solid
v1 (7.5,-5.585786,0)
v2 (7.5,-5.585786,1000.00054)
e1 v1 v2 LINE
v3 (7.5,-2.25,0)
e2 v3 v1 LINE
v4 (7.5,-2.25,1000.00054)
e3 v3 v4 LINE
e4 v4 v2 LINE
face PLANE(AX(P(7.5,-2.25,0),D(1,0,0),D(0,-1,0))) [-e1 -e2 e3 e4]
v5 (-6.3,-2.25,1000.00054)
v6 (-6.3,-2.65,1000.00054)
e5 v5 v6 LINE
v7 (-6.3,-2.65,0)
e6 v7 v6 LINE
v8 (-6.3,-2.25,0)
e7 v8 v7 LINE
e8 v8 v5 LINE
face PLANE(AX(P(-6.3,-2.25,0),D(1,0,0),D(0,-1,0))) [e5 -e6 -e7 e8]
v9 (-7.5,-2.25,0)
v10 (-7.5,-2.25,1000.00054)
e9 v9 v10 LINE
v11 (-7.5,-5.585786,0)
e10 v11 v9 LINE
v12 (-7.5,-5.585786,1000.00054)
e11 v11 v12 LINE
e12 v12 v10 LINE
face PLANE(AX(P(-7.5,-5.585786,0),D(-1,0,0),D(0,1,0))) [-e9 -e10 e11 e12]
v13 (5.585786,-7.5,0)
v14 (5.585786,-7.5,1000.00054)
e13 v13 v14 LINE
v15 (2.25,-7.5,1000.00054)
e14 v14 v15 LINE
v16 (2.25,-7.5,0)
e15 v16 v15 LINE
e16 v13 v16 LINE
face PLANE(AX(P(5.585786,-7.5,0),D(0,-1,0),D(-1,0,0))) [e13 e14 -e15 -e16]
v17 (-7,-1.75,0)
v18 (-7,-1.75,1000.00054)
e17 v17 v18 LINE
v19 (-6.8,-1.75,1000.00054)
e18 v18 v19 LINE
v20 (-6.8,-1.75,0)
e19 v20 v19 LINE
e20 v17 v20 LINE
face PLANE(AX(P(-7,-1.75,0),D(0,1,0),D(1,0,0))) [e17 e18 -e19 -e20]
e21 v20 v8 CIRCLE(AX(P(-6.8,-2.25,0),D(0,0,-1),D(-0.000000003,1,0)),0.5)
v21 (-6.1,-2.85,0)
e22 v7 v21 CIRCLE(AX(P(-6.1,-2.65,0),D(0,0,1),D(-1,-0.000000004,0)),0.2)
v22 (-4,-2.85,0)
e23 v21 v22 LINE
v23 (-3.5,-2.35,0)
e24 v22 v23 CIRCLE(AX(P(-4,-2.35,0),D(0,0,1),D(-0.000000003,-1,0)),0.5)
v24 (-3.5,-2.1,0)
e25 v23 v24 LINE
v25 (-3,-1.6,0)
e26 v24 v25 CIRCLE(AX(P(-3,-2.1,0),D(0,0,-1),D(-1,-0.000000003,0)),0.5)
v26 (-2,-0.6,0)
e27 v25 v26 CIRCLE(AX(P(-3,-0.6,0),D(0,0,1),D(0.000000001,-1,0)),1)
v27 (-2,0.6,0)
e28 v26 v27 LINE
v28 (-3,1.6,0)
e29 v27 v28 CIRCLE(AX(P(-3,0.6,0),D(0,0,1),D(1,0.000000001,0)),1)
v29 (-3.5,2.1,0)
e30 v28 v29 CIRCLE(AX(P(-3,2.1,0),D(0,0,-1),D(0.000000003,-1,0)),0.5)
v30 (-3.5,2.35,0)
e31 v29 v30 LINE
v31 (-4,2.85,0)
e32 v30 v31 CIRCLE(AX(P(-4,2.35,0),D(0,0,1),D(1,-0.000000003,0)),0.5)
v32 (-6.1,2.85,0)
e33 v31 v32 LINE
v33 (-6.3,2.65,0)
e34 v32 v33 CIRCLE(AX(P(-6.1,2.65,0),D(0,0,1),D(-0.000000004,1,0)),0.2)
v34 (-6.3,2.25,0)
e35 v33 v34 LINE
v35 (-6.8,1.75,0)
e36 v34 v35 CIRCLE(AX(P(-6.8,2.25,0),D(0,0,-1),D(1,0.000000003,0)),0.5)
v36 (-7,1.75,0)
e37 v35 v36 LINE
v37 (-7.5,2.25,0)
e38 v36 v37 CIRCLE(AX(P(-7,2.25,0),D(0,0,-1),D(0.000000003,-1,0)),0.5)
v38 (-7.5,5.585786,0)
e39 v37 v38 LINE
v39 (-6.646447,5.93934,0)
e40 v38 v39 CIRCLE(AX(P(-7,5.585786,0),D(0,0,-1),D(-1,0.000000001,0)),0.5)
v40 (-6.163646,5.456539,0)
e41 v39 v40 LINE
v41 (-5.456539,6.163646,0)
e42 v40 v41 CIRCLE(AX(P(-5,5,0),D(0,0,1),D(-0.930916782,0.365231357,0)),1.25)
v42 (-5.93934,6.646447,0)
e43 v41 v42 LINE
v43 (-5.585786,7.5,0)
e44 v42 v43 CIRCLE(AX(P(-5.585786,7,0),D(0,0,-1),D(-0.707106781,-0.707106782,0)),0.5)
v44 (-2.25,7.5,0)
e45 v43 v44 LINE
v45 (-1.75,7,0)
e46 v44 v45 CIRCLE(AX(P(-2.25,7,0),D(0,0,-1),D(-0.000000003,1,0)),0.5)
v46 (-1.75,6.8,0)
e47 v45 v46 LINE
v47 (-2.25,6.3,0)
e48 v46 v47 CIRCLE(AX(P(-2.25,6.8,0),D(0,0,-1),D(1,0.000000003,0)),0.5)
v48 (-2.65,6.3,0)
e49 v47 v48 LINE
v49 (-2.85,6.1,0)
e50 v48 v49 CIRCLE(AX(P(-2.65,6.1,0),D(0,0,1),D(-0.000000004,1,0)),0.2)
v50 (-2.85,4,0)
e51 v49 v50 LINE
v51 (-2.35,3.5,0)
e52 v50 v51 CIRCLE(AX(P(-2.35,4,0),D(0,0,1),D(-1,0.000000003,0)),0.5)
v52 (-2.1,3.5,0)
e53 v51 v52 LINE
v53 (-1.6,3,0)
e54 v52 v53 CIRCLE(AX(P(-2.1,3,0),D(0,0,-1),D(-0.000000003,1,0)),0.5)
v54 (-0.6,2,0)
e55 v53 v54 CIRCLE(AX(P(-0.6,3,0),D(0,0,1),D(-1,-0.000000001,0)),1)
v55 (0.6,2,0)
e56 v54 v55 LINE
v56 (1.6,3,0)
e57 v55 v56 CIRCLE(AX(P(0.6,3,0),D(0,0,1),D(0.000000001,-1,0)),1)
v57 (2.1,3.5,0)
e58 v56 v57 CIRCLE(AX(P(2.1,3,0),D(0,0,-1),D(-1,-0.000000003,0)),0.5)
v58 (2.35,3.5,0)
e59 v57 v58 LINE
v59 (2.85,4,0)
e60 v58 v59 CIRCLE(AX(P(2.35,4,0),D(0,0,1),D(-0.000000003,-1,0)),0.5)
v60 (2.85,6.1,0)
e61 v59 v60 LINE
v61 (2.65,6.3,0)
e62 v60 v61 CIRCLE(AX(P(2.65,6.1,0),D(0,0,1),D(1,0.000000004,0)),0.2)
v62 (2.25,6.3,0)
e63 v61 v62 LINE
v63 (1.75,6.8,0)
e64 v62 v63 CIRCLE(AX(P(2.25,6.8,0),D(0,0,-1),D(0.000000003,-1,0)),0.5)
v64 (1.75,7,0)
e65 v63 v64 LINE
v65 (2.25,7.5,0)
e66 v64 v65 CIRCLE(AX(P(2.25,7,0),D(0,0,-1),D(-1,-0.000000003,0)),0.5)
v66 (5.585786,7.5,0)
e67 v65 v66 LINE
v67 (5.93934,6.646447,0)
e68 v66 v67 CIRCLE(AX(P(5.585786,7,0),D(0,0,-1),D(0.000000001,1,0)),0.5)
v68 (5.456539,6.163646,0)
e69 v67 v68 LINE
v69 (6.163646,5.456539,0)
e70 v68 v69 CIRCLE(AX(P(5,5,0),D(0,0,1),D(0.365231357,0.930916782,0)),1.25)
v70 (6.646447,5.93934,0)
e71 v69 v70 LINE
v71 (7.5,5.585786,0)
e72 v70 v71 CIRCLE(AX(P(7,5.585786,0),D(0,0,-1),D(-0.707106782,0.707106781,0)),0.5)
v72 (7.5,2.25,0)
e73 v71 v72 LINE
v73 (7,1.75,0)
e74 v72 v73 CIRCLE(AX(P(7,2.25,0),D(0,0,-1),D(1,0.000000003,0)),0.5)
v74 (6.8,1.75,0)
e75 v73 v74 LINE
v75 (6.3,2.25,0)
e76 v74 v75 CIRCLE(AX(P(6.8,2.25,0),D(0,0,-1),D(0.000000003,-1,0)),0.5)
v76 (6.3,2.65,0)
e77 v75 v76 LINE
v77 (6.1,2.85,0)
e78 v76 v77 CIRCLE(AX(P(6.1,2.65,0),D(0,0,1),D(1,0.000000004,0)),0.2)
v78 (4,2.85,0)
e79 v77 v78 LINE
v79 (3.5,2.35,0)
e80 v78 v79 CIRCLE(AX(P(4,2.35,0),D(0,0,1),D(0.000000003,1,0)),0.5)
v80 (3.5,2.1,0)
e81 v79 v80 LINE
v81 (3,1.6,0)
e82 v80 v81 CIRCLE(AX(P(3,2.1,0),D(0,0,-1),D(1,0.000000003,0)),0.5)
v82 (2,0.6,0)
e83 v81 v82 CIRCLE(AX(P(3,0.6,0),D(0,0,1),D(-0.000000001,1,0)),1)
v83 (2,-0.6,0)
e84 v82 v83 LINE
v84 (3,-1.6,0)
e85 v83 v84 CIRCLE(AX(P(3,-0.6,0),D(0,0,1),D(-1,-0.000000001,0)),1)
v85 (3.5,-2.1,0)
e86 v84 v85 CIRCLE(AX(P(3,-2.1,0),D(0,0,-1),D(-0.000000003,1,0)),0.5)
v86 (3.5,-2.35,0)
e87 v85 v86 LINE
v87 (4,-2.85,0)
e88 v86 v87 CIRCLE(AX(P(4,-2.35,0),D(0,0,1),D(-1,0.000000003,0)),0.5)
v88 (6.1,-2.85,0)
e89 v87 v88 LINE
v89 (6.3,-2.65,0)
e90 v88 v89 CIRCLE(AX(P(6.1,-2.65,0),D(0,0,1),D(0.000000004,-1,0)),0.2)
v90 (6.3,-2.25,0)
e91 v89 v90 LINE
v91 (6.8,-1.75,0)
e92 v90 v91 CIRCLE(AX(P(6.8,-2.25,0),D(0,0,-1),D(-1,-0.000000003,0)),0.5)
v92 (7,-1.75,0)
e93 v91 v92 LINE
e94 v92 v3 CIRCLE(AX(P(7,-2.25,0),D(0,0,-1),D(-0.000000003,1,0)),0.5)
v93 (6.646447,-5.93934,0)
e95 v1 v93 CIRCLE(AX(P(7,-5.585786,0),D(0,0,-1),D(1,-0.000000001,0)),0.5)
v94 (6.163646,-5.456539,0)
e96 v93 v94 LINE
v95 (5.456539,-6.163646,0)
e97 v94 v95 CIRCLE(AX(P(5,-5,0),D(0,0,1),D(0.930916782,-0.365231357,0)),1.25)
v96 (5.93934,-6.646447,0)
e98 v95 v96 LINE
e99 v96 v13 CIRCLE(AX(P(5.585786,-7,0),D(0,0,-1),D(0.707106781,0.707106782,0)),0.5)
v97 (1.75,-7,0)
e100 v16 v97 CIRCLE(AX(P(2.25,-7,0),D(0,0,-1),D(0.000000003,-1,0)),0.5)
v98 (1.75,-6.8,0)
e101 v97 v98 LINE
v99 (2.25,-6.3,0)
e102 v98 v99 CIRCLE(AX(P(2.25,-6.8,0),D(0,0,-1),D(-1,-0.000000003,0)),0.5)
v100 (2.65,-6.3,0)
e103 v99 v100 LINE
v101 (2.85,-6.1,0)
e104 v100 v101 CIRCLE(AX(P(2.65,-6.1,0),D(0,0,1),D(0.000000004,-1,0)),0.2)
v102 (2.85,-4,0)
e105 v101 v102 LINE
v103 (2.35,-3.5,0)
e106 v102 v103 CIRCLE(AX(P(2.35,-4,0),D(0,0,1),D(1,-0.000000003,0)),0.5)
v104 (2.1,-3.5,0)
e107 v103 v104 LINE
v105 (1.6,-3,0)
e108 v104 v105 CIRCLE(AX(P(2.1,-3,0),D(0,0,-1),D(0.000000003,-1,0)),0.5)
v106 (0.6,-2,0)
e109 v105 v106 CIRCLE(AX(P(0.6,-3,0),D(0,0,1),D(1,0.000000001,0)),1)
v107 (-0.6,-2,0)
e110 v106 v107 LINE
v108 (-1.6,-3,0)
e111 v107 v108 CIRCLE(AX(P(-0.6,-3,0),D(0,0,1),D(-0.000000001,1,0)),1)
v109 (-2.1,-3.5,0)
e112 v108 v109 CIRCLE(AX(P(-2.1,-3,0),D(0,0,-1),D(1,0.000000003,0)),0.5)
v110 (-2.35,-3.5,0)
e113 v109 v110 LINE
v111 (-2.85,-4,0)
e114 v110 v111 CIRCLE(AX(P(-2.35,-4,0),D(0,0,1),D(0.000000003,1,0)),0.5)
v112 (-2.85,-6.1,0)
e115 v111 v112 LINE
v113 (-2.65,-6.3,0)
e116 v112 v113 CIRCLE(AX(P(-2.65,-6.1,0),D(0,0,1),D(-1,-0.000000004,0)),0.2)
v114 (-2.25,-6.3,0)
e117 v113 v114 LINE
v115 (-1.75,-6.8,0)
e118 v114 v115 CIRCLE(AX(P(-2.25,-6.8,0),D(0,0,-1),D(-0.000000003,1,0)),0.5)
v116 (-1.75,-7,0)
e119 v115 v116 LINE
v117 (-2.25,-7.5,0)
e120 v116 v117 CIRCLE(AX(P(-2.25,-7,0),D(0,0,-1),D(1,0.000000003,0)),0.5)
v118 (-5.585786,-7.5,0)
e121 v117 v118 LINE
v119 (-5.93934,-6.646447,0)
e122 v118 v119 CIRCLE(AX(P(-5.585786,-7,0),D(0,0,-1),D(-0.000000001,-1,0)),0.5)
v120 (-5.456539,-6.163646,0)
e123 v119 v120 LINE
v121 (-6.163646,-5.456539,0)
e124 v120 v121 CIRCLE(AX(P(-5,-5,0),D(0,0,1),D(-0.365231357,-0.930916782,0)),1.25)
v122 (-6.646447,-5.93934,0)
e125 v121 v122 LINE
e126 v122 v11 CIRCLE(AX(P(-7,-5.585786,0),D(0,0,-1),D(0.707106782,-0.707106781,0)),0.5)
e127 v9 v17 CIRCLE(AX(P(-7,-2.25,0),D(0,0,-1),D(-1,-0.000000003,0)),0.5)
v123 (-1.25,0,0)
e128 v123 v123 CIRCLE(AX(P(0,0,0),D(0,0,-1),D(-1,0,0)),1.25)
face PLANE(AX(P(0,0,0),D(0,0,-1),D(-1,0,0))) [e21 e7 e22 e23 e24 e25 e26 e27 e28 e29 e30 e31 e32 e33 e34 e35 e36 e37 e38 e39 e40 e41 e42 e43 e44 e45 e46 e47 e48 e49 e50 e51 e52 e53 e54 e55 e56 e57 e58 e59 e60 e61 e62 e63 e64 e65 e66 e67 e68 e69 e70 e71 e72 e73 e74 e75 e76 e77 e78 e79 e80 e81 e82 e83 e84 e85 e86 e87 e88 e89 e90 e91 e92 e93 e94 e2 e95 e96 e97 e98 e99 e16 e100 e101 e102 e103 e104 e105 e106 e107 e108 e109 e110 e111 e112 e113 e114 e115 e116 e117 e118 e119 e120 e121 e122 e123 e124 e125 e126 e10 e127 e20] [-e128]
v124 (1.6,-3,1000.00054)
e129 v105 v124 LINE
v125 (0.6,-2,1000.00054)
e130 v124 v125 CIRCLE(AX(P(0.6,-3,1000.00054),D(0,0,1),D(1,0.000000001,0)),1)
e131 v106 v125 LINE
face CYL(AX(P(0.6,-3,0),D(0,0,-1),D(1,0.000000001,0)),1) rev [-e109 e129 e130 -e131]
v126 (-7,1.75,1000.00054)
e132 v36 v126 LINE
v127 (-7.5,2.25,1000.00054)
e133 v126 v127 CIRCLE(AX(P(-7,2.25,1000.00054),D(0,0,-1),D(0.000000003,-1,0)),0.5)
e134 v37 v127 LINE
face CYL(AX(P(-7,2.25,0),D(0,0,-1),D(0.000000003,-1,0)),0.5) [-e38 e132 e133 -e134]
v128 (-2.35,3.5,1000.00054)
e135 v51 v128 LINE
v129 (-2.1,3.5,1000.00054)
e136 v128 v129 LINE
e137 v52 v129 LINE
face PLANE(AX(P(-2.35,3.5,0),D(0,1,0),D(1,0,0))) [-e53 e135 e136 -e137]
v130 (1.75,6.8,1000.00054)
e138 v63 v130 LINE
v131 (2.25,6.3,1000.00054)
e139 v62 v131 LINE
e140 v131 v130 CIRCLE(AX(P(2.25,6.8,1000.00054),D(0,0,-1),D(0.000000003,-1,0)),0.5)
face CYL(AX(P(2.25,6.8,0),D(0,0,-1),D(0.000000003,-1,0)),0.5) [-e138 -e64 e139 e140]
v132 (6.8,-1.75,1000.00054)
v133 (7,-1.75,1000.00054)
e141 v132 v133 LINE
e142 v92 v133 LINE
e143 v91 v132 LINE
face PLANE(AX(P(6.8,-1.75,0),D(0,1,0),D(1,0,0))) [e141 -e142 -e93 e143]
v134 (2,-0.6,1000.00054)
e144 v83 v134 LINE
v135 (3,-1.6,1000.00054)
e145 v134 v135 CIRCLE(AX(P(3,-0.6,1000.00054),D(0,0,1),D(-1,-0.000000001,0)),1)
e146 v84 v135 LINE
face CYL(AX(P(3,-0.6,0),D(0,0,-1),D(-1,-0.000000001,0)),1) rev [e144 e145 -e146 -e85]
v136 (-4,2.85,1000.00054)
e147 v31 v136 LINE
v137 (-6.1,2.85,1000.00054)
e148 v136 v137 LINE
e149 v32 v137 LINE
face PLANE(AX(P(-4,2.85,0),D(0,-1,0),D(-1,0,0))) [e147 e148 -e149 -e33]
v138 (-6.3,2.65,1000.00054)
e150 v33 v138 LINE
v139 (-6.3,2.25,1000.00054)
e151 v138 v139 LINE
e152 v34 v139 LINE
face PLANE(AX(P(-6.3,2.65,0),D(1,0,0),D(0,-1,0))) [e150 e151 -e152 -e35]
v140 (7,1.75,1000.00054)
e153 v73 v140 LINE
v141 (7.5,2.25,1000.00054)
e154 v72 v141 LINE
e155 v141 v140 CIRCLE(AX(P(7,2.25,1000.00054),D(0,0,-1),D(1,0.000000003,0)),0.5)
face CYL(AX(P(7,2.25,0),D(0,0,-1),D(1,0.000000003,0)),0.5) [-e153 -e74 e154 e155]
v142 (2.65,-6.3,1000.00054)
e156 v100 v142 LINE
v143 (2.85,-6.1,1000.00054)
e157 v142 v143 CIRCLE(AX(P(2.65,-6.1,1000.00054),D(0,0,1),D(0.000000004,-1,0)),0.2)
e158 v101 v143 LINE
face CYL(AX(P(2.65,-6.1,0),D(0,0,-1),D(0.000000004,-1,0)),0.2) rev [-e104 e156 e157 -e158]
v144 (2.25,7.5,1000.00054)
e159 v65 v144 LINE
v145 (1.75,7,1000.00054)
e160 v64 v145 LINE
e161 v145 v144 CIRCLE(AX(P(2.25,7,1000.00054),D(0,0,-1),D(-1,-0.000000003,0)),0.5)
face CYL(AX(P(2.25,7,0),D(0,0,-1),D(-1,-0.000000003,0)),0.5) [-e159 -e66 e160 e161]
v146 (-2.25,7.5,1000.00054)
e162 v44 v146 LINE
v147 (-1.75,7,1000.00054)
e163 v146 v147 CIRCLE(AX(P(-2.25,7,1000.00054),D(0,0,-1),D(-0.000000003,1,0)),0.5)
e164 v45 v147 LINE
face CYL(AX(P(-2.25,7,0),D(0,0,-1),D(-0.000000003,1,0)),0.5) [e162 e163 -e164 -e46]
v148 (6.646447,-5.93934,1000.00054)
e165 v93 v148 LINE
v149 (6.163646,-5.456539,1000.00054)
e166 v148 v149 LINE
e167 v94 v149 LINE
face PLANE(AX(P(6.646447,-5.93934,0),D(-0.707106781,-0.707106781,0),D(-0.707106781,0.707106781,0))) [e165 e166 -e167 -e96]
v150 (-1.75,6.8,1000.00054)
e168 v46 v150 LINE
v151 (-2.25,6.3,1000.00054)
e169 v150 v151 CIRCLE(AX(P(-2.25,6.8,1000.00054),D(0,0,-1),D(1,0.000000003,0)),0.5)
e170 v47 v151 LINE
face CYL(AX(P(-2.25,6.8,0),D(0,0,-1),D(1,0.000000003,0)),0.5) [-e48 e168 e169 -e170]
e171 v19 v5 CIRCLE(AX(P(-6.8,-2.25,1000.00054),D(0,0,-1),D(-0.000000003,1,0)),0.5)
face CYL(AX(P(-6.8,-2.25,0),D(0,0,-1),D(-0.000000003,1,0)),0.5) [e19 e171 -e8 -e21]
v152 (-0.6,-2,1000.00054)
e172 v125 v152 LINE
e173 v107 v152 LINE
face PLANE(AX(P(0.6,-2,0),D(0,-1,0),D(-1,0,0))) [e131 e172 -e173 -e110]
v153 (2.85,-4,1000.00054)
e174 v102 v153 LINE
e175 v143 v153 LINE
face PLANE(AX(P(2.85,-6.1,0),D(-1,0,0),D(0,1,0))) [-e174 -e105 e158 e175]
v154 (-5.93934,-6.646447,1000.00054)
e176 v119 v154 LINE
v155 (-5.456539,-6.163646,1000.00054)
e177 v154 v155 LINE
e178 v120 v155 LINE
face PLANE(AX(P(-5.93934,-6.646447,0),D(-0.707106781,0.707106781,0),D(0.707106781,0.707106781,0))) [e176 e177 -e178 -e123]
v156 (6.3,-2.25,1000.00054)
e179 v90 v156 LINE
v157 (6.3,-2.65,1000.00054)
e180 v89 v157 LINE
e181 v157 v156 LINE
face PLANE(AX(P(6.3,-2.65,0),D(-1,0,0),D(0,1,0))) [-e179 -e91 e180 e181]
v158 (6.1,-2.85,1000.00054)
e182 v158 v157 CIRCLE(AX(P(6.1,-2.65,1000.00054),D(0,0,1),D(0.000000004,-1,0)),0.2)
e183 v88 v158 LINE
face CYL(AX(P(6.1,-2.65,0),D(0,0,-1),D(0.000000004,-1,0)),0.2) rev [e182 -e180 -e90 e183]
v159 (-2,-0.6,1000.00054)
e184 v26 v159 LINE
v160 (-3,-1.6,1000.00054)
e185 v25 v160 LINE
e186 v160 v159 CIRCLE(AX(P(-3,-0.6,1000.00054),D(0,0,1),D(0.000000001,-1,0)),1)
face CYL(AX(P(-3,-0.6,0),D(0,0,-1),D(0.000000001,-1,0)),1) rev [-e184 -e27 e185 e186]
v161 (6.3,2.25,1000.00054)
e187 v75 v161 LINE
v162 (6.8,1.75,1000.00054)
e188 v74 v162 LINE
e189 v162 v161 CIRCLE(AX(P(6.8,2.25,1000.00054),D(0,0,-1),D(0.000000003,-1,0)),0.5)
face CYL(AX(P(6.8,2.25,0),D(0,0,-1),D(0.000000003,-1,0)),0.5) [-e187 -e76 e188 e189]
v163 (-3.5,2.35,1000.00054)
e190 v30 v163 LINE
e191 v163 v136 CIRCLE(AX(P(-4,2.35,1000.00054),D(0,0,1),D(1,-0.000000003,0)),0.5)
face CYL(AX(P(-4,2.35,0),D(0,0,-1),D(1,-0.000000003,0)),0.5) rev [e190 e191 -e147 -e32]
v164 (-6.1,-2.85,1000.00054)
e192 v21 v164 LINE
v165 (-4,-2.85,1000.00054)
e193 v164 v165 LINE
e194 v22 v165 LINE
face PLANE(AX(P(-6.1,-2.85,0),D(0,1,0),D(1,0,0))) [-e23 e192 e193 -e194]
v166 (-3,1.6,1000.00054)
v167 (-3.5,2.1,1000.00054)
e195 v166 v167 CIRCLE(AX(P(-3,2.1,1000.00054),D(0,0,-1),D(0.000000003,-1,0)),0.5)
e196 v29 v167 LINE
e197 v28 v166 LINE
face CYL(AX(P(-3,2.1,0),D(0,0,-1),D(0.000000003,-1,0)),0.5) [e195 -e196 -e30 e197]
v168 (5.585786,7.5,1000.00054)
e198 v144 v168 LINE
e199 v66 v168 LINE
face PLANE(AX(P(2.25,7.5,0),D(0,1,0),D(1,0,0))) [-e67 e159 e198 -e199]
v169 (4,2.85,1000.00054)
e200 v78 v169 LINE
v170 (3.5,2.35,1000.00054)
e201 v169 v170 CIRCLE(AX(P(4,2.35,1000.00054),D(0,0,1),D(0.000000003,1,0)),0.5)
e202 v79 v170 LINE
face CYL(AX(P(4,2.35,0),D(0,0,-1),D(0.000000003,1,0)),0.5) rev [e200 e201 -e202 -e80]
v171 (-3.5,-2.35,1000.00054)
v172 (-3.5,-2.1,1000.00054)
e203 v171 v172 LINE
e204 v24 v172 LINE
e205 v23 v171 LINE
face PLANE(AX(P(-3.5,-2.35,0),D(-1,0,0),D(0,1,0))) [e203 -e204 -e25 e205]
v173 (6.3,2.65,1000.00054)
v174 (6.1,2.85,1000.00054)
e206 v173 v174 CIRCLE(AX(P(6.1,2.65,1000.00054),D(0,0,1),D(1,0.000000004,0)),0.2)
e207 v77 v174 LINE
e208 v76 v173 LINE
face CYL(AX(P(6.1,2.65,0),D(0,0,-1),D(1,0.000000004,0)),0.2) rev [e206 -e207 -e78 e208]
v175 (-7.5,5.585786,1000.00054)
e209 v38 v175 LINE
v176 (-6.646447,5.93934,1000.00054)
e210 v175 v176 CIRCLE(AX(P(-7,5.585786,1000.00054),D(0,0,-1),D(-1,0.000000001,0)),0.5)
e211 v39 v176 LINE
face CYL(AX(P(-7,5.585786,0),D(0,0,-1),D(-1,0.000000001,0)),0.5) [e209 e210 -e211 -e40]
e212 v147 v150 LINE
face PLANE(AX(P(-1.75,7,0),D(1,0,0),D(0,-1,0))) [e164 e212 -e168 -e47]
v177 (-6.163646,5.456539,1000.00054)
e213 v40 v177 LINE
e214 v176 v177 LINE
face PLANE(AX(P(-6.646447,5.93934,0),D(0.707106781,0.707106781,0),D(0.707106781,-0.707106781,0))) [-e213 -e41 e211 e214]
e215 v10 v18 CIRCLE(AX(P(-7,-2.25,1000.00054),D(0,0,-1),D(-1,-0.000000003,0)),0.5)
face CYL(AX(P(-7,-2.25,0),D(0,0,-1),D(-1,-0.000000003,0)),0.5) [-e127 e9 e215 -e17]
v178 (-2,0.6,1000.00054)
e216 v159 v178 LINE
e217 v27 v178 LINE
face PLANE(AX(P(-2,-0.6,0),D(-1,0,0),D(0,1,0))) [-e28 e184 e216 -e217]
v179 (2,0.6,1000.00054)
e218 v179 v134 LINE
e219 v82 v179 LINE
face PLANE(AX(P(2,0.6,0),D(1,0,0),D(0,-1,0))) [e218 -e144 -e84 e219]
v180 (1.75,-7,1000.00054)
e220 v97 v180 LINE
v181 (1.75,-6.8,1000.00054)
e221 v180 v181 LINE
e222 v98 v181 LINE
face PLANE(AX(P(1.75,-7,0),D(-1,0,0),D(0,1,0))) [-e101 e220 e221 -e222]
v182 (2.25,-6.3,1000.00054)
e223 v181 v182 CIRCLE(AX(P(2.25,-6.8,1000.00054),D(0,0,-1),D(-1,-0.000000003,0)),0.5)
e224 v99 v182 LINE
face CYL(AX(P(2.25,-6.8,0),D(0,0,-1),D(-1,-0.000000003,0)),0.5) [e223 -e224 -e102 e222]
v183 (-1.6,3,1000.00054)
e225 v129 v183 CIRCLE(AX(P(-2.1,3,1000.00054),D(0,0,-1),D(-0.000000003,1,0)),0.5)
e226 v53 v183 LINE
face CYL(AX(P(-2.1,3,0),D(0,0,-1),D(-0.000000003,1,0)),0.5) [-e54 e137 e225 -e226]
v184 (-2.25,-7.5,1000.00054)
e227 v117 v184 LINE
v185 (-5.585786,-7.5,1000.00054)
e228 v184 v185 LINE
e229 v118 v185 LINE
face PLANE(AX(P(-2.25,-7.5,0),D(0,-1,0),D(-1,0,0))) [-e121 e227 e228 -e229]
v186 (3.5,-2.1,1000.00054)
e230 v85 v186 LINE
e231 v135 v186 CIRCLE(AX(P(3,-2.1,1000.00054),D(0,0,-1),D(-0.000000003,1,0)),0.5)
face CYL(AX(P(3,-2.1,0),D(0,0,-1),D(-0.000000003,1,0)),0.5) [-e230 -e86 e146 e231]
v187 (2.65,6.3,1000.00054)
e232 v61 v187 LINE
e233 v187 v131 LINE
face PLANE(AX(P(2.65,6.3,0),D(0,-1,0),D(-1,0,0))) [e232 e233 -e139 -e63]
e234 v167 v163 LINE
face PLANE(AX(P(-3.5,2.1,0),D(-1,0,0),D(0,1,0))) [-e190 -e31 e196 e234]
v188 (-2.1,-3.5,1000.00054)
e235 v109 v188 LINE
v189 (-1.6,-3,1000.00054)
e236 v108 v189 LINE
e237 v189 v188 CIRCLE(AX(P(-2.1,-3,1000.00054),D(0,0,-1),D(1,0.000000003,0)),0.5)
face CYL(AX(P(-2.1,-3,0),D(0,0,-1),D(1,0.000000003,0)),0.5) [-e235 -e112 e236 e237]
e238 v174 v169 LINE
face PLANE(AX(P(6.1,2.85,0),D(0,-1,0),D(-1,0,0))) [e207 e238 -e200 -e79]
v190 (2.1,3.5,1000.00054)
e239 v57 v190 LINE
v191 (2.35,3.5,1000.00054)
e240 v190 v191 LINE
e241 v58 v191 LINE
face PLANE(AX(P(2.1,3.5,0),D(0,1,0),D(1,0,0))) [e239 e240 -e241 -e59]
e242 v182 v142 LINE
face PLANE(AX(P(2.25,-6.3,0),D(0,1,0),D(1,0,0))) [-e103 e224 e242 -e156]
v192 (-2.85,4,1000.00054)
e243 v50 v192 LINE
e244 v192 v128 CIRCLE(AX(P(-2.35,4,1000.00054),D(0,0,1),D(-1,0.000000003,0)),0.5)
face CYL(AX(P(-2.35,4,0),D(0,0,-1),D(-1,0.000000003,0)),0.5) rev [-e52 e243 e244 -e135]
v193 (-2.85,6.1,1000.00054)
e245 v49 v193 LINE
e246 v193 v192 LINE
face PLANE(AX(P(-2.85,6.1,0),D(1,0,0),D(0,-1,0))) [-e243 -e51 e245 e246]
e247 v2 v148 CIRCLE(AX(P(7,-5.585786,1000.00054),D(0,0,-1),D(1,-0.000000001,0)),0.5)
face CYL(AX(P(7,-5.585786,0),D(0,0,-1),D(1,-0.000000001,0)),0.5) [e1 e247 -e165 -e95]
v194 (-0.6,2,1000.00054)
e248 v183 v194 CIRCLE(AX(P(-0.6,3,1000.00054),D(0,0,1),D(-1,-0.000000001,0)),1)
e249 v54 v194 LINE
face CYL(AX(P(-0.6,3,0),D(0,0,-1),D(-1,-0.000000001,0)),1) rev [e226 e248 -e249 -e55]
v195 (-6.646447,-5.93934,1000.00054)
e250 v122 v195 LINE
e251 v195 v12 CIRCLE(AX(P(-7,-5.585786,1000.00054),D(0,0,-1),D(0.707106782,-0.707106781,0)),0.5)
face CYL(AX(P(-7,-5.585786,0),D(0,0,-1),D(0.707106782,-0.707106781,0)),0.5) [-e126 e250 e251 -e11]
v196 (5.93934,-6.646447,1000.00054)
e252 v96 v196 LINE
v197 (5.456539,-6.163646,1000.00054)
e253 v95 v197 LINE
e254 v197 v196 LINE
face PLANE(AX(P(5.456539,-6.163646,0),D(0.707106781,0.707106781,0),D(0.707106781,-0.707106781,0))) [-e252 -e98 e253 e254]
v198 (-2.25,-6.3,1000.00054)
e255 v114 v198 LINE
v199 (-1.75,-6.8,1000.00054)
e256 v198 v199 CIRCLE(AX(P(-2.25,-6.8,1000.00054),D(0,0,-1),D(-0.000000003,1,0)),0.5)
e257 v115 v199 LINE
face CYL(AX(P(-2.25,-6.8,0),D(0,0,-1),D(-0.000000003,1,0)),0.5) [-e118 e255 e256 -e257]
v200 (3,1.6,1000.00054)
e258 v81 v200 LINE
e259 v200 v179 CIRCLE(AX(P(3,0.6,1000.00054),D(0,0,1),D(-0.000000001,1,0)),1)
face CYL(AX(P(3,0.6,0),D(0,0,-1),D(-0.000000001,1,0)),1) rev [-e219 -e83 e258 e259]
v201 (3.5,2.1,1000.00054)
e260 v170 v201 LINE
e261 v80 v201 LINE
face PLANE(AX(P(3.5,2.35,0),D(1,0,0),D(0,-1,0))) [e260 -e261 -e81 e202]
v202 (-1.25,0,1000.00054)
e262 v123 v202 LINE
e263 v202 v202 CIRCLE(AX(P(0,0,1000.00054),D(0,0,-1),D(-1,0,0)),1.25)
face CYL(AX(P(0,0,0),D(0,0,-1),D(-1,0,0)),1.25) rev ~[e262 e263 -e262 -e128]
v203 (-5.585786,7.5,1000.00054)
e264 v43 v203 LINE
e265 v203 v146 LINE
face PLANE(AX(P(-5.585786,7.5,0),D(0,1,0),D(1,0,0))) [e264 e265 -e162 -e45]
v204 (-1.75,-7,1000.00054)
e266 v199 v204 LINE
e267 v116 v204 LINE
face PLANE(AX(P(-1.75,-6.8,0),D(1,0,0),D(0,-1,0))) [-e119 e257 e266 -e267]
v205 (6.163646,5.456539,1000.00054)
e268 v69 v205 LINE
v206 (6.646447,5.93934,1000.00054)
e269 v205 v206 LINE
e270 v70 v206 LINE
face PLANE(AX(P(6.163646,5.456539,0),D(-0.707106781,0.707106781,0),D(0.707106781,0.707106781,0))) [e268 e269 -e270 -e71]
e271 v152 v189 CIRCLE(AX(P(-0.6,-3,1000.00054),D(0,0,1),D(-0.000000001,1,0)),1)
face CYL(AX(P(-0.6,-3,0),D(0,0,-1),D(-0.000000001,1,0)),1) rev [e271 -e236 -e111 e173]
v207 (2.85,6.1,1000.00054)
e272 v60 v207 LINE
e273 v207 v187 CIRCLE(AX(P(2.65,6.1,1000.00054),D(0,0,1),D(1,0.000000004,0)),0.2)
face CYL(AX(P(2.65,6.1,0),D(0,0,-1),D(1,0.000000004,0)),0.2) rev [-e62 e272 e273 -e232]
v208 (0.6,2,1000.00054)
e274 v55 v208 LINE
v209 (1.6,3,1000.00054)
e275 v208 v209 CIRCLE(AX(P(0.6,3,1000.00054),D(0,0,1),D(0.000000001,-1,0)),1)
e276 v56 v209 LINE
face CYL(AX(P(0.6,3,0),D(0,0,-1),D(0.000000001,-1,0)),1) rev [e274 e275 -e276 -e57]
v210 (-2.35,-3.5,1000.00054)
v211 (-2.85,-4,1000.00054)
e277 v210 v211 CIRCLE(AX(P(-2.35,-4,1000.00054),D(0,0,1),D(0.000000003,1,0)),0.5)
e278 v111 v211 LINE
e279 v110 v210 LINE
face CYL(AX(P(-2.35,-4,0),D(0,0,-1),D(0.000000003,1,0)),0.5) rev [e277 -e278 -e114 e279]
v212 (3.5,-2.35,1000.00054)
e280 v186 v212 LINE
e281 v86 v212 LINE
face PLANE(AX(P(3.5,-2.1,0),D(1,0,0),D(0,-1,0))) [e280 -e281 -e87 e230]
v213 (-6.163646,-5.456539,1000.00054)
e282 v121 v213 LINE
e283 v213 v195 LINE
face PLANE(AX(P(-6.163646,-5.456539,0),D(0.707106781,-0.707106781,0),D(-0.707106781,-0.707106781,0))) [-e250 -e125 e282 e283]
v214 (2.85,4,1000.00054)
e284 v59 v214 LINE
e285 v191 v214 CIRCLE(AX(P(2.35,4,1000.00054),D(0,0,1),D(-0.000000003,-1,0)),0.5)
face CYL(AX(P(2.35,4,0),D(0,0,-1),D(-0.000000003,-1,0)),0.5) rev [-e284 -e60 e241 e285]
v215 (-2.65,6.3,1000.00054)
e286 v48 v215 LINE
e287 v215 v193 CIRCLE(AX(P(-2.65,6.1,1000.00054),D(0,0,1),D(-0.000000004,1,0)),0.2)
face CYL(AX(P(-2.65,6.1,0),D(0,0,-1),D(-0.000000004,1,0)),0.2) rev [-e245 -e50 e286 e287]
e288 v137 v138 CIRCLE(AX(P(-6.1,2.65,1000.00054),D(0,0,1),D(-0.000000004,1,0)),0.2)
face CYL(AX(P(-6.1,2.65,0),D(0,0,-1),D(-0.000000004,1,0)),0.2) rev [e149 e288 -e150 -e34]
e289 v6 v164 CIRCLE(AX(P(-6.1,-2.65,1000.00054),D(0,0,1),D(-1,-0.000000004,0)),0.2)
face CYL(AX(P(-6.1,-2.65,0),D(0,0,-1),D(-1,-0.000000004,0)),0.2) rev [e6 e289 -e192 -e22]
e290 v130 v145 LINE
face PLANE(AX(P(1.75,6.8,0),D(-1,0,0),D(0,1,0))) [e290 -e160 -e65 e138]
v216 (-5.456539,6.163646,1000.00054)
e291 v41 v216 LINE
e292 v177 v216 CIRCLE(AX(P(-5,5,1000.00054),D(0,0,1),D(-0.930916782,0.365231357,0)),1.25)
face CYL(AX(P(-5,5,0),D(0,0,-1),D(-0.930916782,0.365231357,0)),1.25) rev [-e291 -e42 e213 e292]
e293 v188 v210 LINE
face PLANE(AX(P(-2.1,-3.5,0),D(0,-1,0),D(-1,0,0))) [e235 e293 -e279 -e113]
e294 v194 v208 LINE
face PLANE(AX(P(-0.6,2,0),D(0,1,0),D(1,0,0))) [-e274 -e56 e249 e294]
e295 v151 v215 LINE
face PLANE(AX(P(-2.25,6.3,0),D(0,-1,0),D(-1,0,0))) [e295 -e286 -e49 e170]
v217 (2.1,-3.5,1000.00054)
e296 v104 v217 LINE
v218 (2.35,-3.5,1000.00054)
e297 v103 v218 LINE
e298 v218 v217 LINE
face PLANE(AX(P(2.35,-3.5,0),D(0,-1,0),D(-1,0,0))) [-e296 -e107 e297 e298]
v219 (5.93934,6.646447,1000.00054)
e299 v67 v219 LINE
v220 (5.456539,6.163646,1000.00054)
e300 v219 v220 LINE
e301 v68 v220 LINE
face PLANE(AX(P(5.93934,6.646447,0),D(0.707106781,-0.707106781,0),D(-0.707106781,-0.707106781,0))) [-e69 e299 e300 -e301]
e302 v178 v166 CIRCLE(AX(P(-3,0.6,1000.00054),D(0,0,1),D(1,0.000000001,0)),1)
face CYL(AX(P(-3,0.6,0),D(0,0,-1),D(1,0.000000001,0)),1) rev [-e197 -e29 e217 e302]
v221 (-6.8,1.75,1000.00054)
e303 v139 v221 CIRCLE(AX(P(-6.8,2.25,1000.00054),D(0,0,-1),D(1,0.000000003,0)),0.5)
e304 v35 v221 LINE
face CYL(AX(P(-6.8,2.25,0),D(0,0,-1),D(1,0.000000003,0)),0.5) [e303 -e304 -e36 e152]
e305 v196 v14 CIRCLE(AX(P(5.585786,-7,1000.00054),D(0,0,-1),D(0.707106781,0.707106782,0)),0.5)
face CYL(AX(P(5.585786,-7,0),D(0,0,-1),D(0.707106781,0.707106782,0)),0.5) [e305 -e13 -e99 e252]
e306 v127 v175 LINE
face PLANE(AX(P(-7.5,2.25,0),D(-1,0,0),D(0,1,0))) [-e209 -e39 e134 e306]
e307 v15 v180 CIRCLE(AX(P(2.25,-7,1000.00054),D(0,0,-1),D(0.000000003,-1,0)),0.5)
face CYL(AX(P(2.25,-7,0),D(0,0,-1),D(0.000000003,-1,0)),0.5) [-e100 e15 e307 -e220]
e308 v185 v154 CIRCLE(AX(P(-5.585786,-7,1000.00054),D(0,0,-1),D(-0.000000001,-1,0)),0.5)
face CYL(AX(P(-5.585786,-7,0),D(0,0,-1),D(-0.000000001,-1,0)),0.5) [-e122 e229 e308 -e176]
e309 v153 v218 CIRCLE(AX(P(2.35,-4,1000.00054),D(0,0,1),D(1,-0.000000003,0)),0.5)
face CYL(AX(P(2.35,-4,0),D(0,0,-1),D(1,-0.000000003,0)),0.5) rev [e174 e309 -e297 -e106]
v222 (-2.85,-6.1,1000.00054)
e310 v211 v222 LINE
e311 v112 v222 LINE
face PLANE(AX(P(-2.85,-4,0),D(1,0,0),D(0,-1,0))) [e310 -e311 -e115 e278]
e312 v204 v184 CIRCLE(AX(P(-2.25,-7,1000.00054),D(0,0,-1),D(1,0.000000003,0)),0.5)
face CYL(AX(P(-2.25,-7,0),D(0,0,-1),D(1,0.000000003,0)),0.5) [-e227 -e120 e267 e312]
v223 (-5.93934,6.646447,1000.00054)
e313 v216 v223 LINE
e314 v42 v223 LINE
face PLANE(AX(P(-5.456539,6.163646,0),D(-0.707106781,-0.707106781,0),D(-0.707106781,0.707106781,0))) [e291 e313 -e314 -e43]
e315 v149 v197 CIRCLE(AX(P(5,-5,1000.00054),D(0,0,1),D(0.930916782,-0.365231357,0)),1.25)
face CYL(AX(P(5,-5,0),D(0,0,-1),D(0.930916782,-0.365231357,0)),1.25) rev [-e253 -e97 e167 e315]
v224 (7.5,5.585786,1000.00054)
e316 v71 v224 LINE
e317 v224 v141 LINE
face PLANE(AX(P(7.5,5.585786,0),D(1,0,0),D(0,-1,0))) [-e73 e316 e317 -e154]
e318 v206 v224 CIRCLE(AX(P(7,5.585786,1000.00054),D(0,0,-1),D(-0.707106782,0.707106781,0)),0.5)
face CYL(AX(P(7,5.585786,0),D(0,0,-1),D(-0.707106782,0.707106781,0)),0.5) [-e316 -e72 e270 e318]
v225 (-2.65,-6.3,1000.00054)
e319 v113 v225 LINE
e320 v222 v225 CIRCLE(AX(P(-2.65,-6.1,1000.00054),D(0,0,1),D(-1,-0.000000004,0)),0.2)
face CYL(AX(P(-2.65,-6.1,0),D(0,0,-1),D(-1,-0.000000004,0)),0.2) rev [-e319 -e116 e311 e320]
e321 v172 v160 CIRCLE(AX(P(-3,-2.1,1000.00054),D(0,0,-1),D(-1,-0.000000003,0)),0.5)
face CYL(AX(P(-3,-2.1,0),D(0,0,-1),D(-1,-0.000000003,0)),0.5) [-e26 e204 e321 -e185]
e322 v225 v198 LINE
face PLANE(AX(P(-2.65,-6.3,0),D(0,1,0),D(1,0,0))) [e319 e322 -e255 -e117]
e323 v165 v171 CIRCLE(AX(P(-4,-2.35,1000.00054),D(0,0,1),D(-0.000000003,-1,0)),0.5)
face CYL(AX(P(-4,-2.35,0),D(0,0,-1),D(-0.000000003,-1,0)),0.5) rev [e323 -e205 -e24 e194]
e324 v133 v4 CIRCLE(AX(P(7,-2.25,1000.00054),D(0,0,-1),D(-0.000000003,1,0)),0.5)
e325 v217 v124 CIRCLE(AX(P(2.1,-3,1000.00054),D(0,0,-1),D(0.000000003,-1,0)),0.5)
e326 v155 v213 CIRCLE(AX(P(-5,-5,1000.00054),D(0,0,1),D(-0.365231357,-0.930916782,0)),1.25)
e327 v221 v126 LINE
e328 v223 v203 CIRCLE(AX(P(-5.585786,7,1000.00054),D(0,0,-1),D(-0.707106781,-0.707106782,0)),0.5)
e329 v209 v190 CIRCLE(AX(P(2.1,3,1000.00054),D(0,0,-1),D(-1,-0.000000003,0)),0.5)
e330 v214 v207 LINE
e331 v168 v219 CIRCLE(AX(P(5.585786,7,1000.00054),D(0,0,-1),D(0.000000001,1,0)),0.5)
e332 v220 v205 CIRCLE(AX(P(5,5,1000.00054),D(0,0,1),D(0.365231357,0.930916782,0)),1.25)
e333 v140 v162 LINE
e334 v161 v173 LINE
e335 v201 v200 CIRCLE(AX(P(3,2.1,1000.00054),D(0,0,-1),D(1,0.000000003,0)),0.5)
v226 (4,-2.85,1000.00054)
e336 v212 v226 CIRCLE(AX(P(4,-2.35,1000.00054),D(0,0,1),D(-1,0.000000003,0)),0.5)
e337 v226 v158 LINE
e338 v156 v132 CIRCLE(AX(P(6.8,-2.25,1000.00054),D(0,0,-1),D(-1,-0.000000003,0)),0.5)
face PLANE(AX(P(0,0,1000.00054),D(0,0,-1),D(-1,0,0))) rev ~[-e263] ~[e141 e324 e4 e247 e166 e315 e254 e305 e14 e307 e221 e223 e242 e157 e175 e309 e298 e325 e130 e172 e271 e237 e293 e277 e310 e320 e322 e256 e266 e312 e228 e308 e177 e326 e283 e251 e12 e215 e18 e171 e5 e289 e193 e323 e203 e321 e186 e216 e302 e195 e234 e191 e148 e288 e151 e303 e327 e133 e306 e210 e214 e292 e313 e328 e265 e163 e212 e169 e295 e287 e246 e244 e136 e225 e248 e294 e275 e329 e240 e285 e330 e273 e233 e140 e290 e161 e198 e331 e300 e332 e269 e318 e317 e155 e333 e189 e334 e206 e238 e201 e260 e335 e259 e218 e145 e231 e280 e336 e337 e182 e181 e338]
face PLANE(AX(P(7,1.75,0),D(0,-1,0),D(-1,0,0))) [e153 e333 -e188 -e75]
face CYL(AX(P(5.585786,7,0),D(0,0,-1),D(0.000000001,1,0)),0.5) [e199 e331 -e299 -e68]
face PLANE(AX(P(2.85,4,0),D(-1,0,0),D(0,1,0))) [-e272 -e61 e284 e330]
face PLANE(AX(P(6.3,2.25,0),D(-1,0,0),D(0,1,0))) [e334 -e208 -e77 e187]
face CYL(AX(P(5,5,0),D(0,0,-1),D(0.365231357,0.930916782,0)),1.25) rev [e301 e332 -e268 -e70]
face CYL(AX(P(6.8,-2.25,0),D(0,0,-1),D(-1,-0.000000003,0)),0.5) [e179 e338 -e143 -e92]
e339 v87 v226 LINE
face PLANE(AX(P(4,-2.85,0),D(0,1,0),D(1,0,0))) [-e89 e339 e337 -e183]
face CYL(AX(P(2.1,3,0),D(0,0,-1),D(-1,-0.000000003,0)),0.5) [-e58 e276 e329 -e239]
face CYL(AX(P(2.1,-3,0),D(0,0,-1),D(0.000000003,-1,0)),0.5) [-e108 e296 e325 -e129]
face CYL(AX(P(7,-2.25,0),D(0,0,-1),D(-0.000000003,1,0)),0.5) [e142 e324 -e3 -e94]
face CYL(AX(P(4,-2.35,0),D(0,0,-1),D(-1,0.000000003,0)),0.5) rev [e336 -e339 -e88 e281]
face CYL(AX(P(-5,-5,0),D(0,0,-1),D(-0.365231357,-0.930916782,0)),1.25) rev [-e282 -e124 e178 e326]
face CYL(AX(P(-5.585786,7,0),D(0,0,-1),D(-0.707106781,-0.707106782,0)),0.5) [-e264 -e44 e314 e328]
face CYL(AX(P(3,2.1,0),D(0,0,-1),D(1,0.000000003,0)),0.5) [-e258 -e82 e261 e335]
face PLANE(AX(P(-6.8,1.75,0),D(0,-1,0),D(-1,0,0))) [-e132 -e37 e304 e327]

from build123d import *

# Parameters (mm, degrees)
SKETCH1_R    = 1.25
LENGTH_DEPTH = 1000.00054


with BuildPart() as part:
    # Sketch1 → Length (new body)
    with BuildSketch(Plane(origin=(0, 0, 0), x_dir=(-1, 0, 0), z_dir=(0, 0, -1))):
        with BuildLine():
            Line((6.646446609, 5.939339828), (6.163645978, 5.456539197))
            ThreePointArc((6.163645978, 5.456539197), (4.116116524, 4.116116524), (5.456539197, 6.163645978))
            Line((5.456539197, 6.163645978), (5.939339828, 6.646446609))
            ThreePointArc((5.939339828, 6.646446609), (6.047726204, 7.191341716), (5.585786438, 7.5))
            Line((5.585786438, 7.5), (2.25, 7.5))
            ThreePointArc((2.25, 7.5), (1.896446609, 7.353553391), (1.75, 7))
            Line((1.75, 7), (1.75, 6.8))
            ThreePointArc((1.75, 6.8), (1.896446609, 6.446446609), (2.25, 6.3))
            Line((2.25, 6.3), (2.65, 6.3))
            ThreePointArc((2.65, 6.3), (2.791421356, 6.241421356), (2.85, 6.1))
            Line((2.85, 6.1), (2.85, 4))
            ThreePointArc((2.85, 4), (2.703553391, 3.646446609), (2.35, 3.5))
            Line((2.35, 3.5), (2.1, 3.5))
            ThreePointArc((2.1, 3.5), (1.746446609, 3.353553391), (1.6, 3))
            ThreePointArc((1.6, 3), (1.307106781, 2.292893219), (0.6, 2))
            Line((0.6, 2), (-0.6, 2))
            ThreePointArc((-0.6, 2), (-1.307106781, 2.292893219), (-1.6, 3))
            ThreePointArc((-1.6, 3), (-1.746446609, 3.353553391), (-2.1, 3.5))
            Line((-2.1, 3.5), (-2.35, 3.5))
            ThreePointArc((-2.35, 3.5), (-2.703553391, 3.646446609), (-2.85, 4))
            Line((-2.85, 4), (-2.85, 6.1))
            ThreePointArc((-2.85, 6.1), (-2.791421356, 6.241421356), (-2.65, 6.3))
            Line((-2.65, 6.3), (-2.25, 6.3))
            ThreePointArc((-2.25, 6.3), (-1.896446609, 6.446446609), (-1.75, 6.8))
            Line((-1.75, 6.8), (-1.75, 7))
            ThreePointArc((-1.75, 7), (-1.896446609, 7.353553391), (-2.25, 7.5))
            Line((-2.25, 7.5), (-5.585786438, 7.5))
            ThreePointArc((-5.585786438, 7.5), (-6.047726204, 7.191341716), (-5.939339828, 6.646446609))
            Line((-5.939339828, 6.646446609), (-5.456539197, 6.163645978))
            ThreePointArc((-5.456539197, 6.163645978), (-4.116116524, 4.116116524), (-6.163645978, 5.456539197))
            Line((-6.163645978, 5.456539197), (-6.646446609, 5.939339828))
            ThreePointArc((-6.646446609, 5.939339828), (-7.191341716, 6.047726204), (-7.5, 5.585786438))
            Line((-7.5, 5.585786438), (-7.5, 2.25))
            ThreePointArc((-7.5, 2.25), (-7.353553391, 1.896446609), (-7, 1.75))
            Line((-7, 1.75), (-6.8, 1.75))
            ThreePointArc((-6.8, 1.75), (-6.446446609, 1.896446609), (-6.3, 2.25))
            Line((-6.3, 2.25), (-6.3, 2.65))
            ThreePointArc((-6.3, 2.65), (-6.241421356, 2.791421356), (-6.1, 2.85))
            Line((-6.1, 2.85), (-4, 2.85))
            ThreePointArc((-4, 2.85), (-3.646446609, 2.703553391), (-3.5, 2.35))
            Line((-3.5, 2.35), (-3.5, 2.1))
            ThreePointArc((-3.5, 2.1), (-3.353553391, 1.746446609), (-3, 1.6))
            ThreePointArc((-3, 1.6), (-2.292893219, 1.307106781), (-2, 0.6))
            Line((-2, 0.6), (-2, -0.6))
            ThreePointArc((-2, -0.6), (-2.292893219, -1.307106781), (-3, -1.6))
            ThreePointArc((-3, -1.6), (-3.353553391, -1.746446609), (-3.5, -2.1))
            Line((-3.5, -2.1), (-3.5, -2.35))
            ThreePointArc((-3.5, -2.35), (-3.646446609, -2.703553391), (-4, -2.85))
            Line((-4, -2.85), (-6.1, -2.85))
            ThreePointArc((-6.1, -2.85), (-6.241421356, -2.791421356), (-6.3, -2.65))
            Line((-6.3, -2.65), (-6.3, -2.25))
            ThreePointArc((-6.3, -2.25), (-6.446446609, -1.896446609), (-6.8, -1.75))
            Line((-6.8, -1.75), (-7, -1.75))
            ThreePointArc((-7, -1.75), (-7.353553391, -1.896446609), (-7.5, -2.25))
            Line((-7.5, -2.25), (-7.5, -5.585786438))
            ThreePointArc((-7.5, -5.585786438), (-7.191341716, -6.047726204), (-6.646446609, -5.939339828))
            Line((-6.646446609, -5.939339828), (-6.163645978, -5.456539197))
            ThreePointArc((-6.163645978, -5.456539197), (-4.116116524, -4.116116524), (-5.456539197, -6.163645978))
            Line((-5.456539197, -6.163645978), (-5.939339828, -6.646446609))
            ThreePointArc((-5.939339828, -6.646446609), (-6.047726204, -7.191341716), (-5.585786438, -7.5))
            Line((-5.585786438, -7.5), (-2.25, -7.5))
            ThreePointArc((-2.25, -7.5), (-1.896446609, -7.353553391), (-1.75, -7))
            Line((-1.75, -7), (-1.75, -6.8))
            ThreePointArc((-1.75, -6.8), (-1.896446609, -6.446446609), (-2.25, -6.3))
            Line((-2.25, -6.3), (-2.65, -6.3))
            ThreePointArc((-2.65, -6.3), (-2.791421356, -6.241421356), (-2.85, -6.1))
            Line((-2.85, -6.1), (-2.85, -4))
            ThreePointArc((-2.85, -4), (-2.703553391, -3.646446609), (-2.35, -3.5))
            Line((-2.35, -3.5), (-2.1, -3.5))
            ThreePointArc((-2.1, -3.5), (-1.746446609, -3.353553391), (-1.6, -3))
            ThreePointArc((-1.6, -3), (-1.307106781, -2.292893219), (-0.6, -2))
            Line((-0.6, -2), (0.6, -2))
            ThreePointArc((0.6, -2), (1.307106781, -2.292893219), (1.6, -3))
            ThreePointArc((1.6, -3), (1.746446609, -3.353553391), (2.1, -3.5))
            Line((2.1, -3.5), (2.35, -3.5))
            ThreePointArc((2.35, -3.5), (2.703553391, -3.646446609), (2.85, -4))
            Line((2.85, -4), (2.85, -6.1))
            ThreePointArc((2.85, -6.1), (2.791421356, -6.241421356), (2.65, -6.3))
            Line((2.65, -6.3), (2.25, -6.3))
            ThreePointArc((2.25, -6.3), (1.896446609, -6.446446609), (1.75, -6.8))
            Line((1.75, -6.8), (1.75, -7))
            ThreePointArc((1.75, -7), (1.896446609, -7.353553391), (2.25, -7.5))
            Line((2.25, -7.5), (5.585786438, -7.5))
            ThreePointArc((5.585786438, -7.5), (6.047726204, -7.191341716), (5.939339828, -6.646446609))
            Line((5.939339828, -6.646446609), (5.456539197, -6.163645978))
            ThreePointArc((5.456539197, -6.163645978), (4.116116524, -4.116116524), (6.163645978, -5.456539197))
            Line((6.163645978, -5.456539197), (6.646446609, -5.939339828))
            ThreePointArc((6.646446609, -5.939339828), (7.191341716, -6.047726204), (7.5, -5.585786438))
            Line((7.5, -5.585786438), (7.5, -2.25))
            ThreePointArc((7.5, -2.25), (7.353553391, -1.896446609), (7, -1.75))
            Line((7, -1.75), (6.8, -1.75))
            ThreePointArc((6.8, -1.75), (6.446446609, -1.896446609), (6.3, -2.25))
            Line((6.3, -2.25), (6.3, -2.65))
            ThreePointArc((6.3, -2.65), (6.241421356, -2.791421356), (6.1, -2.85))
            Line((6.1, -2.85), (4, -2.85))
            ThreePointArc((4, -2.85), (3.646446609, -2.703553391), (3.5, -2.35))
            Line((3.5, -2.35), (3.5, -2.1))
            ThreePointArc((3.5, -2.1), (3.353553391, -1.746446609), (3, -1.6))
            ThreePointArc((3, -1.6), (2.292893219, -1.307106781), (2, -0.6))
            Line((2, -0.6), (2, 0.6))
            ThreePointArc((2, 0.6), (2.292893219, 1.307106781), (3, 1.6))
            ThreePointArc((3, 1.6), (3.353553391, 1.746446609), (3.5, 2.1))
            Line((3.5, 2.1), (3.5, 2.35))
            ThreePointArc((3.5, 2.35), (3.646446609, 2.703553391), (4, 2.85))
            Line((4, 2.85), (6.1, 2.85))
            ThreePointArc((6.1, 2.85), (6.241421356, 2.791421356), (6.3, 2.65))
            Line((6.3, 2.65), (6.3, 2.25))
            ThreePointArc((6.3, 2.25), (6.446446609, 1.896446609), (6.8, 1.75))
            Line((6.8, 1.75), (7, 1.75))
            ThreePointArc((7, 1.75), (7.353553391, 1.896446609), (7.5, 2.25))
            Line((7.5, 2.25), (7.5, 5.585786438))
            ThreePointArc((7.5, 5.585786438), (7.191341716, 6.047726204), (6.646446609, 5.939339828))
        make_face()
        Circle(SKETCH1_R, mode=Mode.SUBTRACT)
    extrude(amount=-LENGTH_DEPTH)


solid = part.part
